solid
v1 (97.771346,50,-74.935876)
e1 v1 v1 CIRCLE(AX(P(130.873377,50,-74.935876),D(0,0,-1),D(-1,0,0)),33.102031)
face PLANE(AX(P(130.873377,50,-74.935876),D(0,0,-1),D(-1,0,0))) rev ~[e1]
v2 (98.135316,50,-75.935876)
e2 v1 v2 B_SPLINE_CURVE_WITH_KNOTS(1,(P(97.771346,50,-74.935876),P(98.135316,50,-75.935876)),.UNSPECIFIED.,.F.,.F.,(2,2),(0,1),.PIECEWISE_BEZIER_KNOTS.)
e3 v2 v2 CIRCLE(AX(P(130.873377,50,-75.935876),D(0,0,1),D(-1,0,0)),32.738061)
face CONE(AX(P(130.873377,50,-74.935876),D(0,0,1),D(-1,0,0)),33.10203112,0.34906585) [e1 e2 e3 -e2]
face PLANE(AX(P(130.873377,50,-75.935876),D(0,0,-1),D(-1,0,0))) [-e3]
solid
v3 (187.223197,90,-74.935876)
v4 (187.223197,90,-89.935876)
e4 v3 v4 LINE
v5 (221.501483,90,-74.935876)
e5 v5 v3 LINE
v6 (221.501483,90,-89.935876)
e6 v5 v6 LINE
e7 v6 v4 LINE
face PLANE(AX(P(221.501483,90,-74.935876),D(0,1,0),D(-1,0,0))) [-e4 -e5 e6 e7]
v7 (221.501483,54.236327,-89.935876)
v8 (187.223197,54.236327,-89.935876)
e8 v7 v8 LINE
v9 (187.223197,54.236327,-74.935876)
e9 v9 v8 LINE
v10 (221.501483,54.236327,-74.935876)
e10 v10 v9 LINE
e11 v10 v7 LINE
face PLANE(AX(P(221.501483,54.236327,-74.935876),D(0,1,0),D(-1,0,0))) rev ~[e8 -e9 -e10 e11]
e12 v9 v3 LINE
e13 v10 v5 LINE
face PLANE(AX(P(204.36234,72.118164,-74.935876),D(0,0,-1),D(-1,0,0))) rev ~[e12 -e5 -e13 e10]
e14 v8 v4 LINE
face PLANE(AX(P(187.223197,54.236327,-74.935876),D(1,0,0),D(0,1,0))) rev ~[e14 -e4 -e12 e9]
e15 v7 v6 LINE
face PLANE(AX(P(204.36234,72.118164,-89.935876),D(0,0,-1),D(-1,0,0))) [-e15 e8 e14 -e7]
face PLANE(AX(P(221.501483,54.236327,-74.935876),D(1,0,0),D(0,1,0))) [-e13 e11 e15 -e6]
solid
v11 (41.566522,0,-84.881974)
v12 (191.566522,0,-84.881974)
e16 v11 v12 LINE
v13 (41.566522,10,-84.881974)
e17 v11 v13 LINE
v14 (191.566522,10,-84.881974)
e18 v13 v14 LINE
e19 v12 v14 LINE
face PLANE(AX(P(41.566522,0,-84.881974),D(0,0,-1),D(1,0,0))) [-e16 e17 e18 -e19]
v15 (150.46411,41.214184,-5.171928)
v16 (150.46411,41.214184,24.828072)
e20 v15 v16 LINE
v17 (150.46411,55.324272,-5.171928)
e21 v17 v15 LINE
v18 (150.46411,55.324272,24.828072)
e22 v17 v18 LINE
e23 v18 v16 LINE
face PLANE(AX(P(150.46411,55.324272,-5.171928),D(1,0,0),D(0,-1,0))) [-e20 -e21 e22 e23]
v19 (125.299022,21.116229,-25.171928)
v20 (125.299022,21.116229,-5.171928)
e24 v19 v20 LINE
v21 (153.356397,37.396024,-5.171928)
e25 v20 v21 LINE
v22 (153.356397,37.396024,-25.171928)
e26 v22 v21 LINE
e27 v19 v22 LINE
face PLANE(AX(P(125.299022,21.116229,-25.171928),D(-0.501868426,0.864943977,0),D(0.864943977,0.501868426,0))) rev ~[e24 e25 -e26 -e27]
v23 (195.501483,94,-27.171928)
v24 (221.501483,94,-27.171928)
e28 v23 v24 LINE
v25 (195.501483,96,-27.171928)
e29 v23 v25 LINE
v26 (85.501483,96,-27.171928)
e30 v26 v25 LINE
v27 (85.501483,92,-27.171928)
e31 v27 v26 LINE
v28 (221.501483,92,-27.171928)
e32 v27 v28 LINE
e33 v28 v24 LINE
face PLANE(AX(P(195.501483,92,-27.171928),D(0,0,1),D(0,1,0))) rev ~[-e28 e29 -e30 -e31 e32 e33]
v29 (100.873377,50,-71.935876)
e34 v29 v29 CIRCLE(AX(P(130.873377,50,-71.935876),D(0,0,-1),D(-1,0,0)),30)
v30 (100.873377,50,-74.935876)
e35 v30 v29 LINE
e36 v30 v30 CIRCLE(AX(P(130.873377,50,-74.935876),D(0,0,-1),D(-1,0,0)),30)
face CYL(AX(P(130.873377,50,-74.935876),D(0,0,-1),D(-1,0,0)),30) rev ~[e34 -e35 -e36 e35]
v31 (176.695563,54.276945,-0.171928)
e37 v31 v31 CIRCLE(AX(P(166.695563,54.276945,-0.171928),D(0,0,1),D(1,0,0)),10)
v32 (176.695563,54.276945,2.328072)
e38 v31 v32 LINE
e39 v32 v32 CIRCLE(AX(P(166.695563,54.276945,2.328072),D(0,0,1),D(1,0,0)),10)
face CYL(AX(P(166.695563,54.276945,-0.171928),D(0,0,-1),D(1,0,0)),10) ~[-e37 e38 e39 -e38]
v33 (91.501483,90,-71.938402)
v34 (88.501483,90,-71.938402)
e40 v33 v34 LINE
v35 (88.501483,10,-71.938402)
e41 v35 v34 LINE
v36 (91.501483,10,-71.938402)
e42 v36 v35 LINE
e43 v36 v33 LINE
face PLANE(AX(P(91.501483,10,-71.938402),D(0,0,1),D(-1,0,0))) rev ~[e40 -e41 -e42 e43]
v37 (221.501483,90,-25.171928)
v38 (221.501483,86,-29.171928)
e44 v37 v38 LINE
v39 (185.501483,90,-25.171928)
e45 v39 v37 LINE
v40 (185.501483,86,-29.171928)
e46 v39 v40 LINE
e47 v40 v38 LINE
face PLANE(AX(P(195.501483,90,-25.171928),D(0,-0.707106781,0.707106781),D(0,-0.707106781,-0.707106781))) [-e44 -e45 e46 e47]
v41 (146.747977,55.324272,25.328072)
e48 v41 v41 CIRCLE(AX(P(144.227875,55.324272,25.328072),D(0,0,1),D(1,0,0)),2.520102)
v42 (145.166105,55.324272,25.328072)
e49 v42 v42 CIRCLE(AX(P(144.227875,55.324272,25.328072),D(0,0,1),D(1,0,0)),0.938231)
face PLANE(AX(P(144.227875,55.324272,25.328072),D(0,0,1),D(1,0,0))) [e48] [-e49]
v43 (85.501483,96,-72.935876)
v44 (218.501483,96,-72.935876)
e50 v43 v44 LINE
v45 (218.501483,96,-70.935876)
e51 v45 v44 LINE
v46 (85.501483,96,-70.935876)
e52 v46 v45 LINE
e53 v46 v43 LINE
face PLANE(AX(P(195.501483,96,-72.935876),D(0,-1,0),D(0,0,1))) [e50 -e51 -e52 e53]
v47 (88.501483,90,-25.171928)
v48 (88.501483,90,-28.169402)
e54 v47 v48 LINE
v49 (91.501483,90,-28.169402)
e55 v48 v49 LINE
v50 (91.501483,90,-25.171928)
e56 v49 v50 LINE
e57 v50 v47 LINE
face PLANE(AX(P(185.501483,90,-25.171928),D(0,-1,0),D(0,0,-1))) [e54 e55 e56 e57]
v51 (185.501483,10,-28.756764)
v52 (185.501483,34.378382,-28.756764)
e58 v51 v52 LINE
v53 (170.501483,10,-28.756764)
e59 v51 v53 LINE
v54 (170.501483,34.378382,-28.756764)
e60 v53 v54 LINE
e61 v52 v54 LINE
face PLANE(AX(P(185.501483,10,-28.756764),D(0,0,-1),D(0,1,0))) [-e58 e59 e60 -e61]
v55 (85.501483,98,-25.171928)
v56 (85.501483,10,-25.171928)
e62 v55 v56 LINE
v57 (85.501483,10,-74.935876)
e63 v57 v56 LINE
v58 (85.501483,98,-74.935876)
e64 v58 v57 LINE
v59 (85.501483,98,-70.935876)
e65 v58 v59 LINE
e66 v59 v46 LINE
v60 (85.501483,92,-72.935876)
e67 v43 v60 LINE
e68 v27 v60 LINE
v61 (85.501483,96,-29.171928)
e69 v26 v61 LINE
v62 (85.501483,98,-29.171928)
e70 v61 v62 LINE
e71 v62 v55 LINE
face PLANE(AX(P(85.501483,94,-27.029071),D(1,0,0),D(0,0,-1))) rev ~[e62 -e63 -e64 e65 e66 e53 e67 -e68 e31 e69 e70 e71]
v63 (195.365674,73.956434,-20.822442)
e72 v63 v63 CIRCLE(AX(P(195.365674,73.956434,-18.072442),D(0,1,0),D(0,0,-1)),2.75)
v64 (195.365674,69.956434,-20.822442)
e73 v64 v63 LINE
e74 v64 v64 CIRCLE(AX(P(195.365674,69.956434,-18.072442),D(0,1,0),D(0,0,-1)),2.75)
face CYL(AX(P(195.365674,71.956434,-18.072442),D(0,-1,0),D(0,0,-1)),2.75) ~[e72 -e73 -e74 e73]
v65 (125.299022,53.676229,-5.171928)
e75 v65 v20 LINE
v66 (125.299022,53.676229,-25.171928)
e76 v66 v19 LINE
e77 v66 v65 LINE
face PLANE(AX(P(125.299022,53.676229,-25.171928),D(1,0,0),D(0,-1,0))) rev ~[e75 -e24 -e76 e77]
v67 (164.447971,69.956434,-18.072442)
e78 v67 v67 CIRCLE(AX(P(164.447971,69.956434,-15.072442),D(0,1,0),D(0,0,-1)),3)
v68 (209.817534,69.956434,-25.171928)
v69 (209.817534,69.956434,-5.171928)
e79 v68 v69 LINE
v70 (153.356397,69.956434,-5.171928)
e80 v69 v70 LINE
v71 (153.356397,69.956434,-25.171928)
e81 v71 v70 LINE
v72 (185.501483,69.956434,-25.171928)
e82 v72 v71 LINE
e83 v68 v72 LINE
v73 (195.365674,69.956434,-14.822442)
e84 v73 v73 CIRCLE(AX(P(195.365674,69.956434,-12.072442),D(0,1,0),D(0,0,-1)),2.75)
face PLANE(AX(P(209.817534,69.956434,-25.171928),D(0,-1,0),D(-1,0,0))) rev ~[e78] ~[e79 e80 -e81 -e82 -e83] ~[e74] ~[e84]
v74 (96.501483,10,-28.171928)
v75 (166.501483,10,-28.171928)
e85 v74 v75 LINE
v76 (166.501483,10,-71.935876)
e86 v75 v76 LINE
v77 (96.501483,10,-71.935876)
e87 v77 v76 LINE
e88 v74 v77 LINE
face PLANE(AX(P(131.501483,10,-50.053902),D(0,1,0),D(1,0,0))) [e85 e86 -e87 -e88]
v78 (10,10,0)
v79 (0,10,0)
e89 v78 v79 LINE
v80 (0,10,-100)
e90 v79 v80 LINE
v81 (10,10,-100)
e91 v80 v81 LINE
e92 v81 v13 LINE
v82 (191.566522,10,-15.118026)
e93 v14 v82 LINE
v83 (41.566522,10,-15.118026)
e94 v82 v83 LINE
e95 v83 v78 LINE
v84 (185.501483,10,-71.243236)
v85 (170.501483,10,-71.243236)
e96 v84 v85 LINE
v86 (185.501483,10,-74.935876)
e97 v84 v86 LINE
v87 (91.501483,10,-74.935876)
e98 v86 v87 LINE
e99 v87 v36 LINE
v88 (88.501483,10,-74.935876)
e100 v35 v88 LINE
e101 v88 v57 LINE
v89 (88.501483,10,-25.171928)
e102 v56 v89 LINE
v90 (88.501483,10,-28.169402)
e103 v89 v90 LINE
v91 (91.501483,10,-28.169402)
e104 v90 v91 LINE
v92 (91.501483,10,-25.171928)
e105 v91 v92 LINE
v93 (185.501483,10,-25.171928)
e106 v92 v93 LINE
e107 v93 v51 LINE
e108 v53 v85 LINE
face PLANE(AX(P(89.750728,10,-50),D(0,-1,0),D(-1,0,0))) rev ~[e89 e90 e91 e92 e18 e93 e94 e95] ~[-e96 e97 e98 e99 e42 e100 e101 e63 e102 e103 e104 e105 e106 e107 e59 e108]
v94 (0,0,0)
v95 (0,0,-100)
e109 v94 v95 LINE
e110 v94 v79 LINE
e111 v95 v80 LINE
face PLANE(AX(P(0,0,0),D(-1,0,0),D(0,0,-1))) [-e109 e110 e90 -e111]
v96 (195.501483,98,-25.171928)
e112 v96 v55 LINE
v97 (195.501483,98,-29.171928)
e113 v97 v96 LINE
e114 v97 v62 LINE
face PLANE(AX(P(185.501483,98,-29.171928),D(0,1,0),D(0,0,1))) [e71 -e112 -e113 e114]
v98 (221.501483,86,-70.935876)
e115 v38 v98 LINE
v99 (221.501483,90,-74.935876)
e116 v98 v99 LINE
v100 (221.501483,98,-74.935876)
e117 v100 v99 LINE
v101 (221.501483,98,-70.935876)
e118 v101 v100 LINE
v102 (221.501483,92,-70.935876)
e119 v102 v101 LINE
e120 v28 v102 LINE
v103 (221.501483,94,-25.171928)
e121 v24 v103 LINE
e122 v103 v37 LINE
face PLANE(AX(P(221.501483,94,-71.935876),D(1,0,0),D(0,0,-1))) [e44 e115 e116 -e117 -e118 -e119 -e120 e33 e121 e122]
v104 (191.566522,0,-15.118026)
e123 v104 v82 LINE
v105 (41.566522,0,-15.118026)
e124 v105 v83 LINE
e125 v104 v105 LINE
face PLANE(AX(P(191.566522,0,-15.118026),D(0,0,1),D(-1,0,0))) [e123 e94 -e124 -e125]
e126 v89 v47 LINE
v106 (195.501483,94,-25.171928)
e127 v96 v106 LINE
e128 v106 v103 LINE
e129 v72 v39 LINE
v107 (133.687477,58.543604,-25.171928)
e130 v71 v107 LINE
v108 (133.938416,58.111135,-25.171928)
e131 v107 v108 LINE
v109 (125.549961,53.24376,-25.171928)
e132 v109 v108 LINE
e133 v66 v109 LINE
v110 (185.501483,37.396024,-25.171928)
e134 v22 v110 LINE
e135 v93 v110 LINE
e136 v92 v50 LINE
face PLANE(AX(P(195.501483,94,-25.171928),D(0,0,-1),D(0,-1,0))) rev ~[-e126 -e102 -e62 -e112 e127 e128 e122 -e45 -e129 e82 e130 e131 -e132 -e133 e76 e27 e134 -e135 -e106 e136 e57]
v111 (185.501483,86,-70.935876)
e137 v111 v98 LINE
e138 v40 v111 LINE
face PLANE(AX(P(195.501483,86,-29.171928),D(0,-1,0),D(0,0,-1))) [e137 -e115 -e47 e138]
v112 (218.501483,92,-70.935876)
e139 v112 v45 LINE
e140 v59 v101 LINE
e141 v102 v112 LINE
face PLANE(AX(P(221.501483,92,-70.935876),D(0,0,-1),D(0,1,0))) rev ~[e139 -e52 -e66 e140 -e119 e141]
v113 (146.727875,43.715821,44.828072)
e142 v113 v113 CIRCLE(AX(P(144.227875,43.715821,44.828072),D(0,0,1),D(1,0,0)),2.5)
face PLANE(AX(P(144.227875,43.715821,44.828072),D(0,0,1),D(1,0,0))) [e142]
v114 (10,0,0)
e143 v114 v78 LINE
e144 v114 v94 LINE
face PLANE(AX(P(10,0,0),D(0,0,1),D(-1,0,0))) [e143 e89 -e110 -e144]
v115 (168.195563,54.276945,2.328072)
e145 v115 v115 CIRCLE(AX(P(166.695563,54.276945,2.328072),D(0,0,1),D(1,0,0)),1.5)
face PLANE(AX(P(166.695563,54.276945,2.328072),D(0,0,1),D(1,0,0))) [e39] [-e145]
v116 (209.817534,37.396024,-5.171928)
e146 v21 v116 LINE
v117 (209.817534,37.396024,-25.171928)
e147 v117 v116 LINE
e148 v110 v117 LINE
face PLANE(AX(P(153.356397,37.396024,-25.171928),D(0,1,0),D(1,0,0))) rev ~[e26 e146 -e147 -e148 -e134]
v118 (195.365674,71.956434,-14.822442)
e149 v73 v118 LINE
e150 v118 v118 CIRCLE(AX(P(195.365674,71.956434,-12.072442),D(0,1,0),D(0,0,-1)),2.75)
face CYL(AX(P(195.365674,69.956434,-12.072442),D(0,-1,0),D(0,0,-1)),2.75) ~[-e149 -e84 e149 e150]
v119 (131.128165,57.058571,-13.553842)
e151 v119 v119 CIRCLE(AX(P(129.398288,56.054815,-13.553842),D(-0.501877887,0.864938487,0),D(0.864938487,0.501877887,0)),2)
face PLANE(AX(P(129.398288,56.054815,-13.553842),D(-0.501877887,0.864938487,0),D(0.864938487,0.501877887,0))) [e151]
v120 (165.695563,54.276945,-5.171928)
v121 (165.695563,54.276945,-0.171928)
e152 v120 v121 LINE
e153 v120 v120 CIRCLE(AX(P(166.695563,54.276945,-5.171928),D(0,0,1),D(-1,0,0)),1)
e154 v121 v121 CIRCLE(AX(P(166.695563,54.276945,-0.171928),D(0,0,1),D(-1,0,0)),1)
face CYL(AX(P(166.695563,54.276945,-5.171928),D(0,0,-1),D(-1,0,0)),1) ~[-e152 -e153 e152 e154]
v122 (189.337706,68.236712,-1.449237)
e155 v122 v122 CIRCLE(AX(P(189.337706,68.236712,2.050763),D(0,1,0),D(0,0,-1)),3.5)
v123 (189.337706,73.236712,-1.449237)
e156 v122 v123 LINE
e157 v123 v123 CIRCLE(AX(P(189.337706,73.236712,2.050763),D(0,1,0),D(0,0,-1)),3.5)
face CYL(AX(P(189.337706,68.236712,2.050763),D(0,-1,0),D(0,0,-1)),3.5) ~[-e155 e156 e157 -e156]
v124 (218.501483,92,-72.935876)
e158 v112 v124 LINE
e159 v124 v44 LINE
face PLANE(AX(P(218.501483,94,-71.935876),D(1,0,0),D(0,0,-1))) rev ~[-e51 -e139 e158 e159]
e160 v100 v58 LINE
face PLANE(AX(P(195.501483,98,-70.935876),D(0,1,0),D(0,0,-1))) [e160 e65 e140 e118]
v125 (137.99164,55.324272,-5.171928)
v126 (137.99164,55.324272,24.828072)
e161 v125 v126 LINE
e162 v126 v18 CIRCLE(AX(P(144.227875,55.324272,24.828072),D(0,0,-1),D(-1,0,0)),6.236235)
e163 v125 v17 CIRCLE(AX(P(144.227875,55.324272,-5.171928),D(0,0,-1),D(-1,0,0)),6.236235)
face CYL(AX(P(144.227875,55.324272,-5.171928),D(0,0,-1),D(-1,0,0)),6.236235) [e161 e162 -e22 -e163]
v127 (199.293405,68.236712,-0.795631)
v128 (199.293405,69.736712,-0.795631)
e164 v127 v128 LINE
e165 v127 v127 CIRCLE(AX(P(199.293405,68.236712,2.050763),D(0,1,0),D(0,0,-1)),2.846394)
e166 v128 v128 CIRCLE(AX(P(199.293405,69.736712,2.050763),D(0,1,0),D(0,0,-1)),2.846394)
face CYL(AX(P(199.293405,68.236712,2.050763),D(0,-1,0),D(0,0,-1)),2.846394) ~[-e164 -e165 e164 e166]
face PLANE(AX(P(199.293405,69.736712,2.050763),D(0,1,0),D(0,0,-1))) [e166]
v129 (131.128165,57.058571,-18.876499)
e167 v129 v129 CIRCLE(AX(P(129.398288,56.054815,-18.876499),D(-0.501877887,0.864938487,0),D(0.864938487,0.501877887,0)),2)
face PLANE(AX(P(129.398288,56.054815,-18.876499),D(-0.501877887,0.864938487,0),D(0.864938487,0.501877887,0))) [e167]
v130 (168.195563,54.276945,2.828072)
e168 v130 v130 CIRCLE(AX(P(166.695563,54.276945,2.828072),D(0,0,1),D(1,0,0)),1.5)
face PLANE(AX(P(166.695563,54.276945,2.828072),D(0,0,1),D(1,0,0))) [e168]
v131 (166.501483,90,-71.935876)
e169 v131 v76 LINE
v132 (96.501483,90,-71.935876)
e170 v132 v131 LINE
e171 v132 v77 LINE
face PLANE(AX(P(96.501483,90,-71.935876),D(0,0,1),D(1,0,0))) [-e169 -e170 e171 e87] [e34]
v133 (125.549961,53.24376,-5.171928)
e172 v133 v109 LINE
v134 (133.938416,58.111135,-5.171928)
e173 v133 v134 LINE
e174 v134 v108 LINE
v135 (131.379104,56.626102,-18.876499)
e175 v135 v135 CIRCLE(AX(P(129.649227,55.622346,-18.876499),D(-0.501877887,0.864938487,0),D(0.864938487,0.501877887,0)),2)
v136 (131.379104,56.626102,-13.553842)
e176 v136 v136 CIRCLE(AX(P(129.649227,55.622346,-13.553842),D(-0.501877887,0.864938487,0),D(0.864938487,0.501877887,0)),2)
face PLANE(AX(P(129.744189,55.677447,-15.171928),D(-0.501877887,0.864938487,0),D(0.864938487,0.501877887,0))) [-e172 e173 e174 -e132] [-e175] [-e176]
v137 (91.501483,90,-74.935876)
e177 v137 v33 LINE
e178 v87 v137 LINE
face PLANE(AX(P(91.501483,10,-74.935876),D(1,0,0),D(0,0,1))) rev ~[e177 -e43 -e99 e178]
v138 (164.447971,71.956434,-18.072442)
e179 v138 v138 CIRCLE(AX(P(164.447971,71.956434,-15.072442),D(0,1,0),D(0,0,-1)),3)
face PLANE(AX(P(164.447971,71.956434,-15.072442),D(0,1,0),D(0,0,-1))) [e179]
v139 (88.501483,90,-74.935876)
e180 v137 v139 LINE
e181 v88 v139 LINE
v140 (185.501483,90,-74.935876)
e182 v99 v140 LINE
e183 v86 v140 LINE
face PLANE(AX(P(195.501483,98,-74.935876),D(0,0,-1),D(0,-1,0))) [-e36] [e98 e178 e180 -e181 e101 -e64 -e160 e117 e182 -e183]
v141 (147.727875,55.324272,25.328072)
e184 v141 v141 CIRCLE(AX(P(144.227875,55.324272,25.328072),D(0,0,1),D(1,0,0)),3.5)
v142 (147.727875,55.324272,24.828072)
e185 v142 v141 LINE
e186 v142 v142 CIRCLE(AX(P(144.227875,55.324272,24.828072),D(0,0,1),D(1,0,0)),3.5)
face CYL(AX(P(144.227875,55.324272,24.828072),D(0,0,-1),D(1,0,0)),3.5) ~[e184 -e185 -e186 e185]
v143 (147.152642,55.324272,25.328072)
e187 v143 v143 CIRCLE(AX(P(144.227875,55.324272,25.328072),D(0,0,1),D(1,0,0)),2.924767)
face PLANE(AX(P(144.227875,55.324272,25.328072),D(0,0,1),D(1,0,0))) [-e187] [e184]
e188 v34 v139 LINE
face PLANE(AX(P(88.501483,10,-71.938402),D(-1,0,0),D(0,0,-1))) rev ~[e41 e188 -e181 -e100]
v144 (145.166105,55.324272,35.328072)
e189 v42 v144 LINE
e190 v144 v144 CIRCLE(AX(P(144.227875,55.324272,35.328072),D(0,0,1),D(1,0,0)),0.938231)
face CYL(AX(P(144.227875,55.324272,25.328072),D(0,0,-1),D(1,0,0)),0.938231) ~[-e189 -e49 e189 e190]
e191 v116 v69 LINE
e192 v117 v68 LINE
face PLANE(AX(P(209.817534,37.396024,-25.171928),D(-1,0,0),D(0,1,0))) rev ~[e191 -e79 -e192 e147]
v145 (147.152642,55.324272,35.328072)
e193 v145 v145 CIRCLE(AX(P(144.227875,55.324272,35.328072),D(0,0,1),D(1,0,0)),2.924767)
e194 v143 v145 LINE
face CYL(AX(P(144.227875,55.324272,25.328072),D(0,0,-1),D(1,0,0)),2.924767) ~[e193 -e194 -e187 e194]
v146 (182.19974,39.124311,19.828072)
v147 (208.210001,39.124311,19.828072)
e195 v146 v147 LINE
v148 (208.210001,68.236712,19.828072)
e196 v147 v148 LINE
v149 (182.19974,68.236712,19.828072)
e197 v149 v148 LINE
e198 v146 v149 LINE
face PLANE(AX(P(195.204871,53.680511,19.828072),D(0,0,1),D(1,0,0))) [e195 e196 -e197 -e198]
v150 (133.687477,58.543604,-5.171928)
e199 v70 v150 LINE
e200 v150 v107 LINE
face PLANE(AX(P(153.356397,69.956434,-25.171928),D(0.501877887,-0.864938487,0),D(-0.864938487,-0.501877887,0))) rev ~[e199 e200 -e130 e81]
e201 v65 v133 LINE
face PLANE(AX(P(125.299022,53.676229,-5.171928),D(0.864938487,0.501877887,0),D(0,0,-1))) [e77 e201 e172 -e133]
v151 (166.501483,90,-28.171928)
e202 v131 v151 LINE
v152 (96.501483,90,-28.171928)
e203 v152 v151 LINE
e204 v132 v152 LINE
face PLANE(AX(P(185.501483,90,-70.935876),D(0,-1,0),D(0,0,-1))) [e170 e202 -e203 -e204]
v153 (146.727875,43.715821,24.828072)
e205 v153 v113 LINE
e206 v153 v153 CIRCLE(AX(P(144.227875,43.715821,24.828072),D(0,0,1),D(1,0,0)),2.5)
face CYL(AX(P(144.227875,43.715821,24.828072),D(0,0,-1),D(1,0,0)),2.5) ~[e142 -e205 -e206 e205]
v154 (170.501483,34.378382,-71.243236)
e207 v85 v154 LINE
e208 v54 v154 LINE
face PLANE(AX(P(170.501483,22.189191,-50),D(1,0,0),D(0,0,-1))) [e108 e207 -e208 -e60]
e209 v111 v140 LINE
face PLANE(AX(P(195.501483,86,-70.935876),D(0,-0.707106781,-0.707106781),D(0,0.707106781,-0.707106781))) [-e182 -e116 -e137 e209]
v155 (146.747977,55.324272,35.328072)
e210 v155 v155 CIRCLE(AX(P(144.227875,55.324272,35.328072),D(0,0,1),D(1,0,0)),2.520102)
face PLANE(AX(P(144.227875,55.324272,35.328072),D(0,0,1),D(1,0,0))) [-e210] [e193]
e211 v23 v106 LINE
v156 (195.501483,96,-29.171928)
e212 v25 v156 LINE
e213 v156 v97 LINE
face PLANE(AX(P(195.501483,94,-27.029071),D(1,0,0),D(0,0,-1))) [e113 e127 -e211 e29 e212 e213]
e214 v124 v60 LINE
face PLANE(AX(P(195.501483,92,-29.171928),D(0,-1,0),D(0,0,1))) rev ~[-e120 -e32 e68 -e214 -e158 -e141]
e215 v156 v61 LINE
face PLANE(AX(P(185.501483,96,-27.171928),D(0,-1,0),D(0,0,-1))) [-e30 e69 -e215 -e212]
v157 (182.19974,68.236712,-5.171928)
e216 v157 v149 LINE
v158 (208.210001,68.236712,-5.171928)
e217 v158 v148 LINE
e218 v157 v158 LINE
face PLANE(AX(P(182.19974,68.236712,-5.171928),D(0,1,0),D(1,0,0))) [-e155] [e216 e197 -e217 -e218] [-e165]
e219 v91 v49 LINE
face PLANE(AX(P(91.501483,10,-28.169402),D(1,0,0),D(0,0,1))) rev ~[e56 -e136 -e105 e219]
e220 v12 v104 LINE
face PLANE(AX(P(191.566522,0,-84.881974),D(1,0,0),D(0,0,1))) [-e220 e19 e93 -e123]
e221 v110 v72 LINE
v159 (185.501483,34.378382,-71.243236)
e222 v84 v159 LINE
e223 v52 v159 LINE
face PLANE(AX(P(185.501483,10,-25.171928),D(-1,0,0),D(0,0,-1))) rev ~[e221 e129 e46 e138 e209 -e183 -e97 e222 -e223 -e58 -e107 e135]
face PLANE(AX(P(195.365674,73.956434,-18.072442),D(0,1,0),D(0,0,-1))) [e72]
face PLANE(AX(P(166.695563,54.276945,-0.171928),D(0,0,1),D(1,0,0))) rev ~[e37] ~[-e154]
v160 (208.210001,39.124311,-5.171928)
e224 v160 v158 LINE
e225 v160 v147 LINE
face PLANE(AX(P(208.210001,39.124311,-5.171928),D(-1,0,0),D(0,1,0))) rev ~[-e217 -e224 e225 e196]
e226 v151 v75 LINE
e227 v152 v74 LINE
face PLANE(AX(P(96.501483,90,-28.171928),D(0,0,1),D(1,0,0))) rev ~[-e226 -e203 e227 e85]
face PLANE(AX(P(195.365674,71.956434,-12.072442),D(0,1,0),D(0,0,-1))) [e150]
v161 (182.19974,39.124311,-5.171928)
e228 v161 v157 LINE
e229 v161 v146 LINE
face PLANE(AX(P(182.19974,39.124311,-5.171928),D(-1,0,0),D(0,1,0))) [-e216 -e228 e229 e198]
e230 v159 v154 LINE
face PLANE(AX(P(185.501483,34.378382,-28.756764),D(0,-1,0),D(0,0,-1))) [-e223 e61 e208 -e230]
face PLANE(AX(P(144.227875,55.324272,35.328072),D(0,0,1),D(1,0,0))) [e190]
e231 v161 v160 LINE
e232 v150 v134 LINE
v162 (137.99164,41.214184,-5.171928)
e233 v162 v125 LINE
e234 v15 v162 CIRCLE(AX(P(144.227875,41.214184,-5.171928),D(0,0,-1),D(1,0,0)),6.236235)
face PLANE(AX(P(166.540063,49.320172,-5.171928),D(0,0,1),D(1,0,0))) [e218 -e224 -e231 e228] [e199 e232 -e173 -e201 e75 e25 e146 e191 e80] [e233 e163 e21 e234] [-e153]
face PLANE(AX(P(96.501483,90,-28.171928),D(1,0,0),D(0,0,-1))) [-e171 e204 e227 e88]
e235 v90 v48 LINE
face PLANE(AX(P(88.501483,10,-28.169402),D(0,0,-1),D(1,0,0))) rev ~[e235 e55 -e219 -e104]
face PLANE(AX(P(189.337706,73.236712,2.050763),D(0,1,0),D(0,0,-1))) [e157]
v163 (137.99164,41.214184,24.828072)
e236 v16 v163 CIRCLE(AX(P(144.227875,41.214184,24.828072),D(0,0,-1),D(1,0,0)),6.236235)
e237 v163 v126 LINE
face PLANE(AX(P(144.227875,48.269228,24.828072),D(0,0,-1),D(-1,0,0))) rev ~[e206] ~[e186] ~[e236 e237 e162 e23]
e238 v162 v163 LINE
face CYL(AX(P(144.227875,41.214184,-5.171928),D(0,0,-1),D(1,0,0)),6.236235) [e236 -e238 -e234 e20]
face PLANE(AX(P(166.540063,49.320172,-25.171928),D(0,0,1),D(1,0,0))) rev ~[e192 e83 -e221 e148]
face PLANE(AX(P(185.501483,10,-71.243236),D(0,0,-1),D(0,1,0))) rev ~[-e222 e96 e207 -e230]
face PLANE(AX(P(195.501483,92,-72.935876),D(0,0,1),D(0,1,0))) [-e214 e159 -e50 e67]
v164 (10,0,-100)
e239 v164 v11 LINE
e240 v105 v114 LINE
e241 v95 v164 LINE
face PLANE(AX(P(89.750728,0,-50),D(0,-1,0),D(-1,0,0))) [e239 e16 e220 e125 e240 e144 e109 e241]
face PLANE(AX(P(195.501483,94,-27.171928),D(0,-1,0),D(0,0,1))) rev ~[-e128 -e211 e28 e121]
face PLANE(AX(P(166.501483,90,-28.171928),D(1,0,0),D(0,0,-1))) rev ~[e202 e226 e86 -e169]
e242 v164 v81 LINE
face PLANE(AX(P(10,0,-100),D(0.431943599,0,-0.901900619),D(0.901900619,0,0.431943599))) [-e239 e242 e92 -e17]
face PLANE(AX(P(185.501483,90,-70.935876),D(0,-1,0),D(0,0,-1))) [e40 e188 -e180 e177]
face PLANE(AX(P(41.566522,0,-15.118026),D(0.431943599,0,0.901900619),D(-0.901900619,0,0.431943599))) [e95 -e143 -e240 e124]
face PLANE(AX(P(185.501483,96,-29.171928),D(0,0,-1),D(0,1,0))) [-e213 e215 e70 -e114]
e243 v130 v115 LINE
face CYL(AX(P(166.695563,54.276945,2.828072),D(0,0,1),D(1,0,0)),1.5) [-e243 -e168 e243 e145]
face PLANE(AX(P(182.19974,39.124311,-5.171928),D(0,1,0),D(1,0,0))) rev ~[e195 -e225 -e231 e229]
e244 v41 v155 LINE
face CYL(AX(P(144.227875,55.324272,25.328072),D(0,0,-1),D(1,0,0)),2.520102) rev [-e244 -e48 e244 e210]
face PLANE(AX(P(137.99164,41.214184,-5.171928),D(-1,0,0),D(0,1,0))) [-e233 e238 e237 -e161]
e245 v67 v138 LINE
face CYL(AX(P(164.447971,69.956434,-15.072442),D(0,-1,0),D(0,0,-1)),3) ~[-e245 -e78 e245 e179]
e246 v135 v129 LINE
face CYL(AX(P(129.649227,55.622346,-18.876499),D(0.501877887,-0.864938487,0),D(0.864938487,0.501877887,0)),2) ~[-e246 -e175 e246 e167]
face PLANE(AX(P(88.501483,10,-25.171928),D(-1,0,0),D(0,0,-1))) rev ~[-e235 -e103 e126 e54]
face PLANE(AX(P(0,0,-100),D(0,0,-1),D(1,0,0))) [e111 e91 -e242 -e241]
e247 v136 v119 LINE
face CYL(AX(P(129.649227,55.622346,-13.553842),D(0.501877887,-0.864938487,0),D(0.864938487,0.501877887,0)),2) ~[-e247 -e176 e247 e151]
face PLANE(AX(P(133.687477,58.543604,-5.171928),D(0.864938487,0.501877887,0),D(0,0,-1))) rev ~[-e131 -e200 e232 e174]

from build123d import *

# Parameters (mm, degrees)
BOSS_EXTRUDE1_DEPTH      = 10
BOSS_EXTRUDE3_DEPTH      = 80
SKETCH4_W                = 42.48647226
SKETCH4_H                = 24.378381935
CUT_EXTRUDE2_DEPTH       = 15
SKETCH5_W                = 70
SKETCH5_H                = 43.763948065
CUT_EXTRUDE3_DEPTH       = 80
BOSS_EXTRUDE4_DEPTH      = 10
BOSS_EXTRUDE4_DEPTH_BACK = 100
SKETCH6_R                = 30
CUT_EXTRUDE5_DEPTH       = 46
SKETCH8_W                = 41.763948065
SKETCH8_H                = 2
BOSS_EXTRUDE5_DEPTH      = 26
BOSS_EXTRUDE5_DEPTH_BACK = 110
SKETCH9_W                = 41.763948065
SKETCH9_H                = 4
BOSS_EXTRUDE6_DEPTH      = 26
BOSS_EXTRUDE6_DEPTH_BACK = 10
BOSS_EXTRUDE7_DEPTH      = 26
BOSS_EXTRUDE7_DEPTH_BACK = 10
BOSS_EXTRUDE8_DEPTH      = 26
BOSS_EXTRUDE9_DEPTH      = 26
SKETCH13_W               = 2
SKETCH13_H               = 4
BOSS_EXTRUDE10_DEPTH     = 3
SKETCH14_W               = 34.278285875
SKETCH14_H               = 35.763672782
BOSS_EXTRUDE11_DEPTH     = 15
BOSS_EXTRUDE12_DEPTH     = 20
SKETCH16_W               = 26.010260239
SKETCH16_H               = 29.112401369
BOSS_EXTRUDE13_DEPTH     = 25
SKETCH17_R               = 3.5
BOSS_EXTRUDE14_DEPTH     = 5
SKETCH18_R               = 2.846394249
BOSS_EXTRUDE15_DEPTH     = 1.5
SKETCH19_R               = 3
BOSS_EXTRUDE16_DEPTH     = 2
SKETCH20_R               = 2.75
BOSS_EXTRUDE17_DEPTH     = 2
SKETCH21_R               = 2.75
BOSS_EXTRUDE18_DEPTH     = 2
SKETCH22_R               = 1
BOSS_EXTRUDE19_DEPTH     = 5
SKETCH23_R               = 10
BOSS_EXTRUDE20_DEPTH     = 3
SKETCH24_R               = 10
SKETCH24_R_2             = 1.5
CUT_EXTRUDE6_DEPTH       = 0.5
SKETCH25_W               = 9.698325035
SKETCH25_H               = 20
CUT_EXTRUDE7_DEPTH       = 0.5
BOSS_EXTRUDE21_DEPTH     = 30
SKETCH27_R               = 2
BOSS_EXTRUDE22_DEPTH     = 0.5
SKETCH29_R               = 3.5
BOSS_EXTRUDE23_DEPTH     = 0.5
SKETCH30_R               = 2.924767118
SKETCH30_R_2             = 2.520102258
SKETCH30_R_3             = 0.938230535
BOSS_EXTRUDE24_DEPTH     = 10
SKETCH31_R               = 2.5
BOSS_EXTRUDE25_DEPTH     = 20
SKETCH32_R               = 33.10203112
BOSS_EXTRUDE26_DEPTH     = 1
BOSS_EXTRUDE26_TAPER     = 20


with BuildPart() as part:
    # Sketch1 → Boss-Extrude1 (new body)
    with BuildSketch(Plane(origin=(0, 0, 0), x_dir=(1, 0, 0), z_dir=(0, 1, 0))):
        Polygon((0, 0), (0, 100), (10, 100), (41.566521678, 84.881974033), (191.566521678, 84.881974033), (191.566521678, 15.118025967), (41.566521678, 15.118025967), (10, 0), align=None)
    extrude(amount=BOSS_EXTRUDE1_DEPTH)

    # Sketch3 → Boss-Extrude3 (add)
    with BuildSketch(Plane(origin=(0, 10, 0), x_dir=(1, 0, 0), z_dir=(0, 1, 0))):
        Polygon((91.501482994, 28.169402175), (91.501482994, 25.17192825), (185.501482994, 25.17192825), (185.501482994, 74.935876315), (91.501482994, 74.935876315), (91.501482994, 71.93840239), (88.501482994, 71.93840239), (88.501482994, 74.935876315), (85.501482994, 74.935876315), (85.501482994, 25.17192825), (88.501482994, 25.17192825), (88.501482994, 28.169402175), align=None)
    extrude(amount=BOSS_EXTRUDE3_DEPTH)

    # Sketch4 → Cut-Extrude2 (cut)
    with BuildSketch(Plane(origin=(185.501482994, 0, 0), x_dir=(0, 0, -1), z_dir=(1, 0, 0))):
        with Locations((50, 22.189190968)):
            Rectangle(SKETCH4_W, SKETCH4_H)
    extrude(amount=-CUT_EXTRUDE2_DEPTH, mode=Mode.SUBTRACT)

    # Sketch5 → Cut-Extrude3 (cut)
    with BuildSketch(Plane(origin=(0, 90, 0), x_dir=(1, 0, 0), z_dir=(0, 1, 0))):
        with Locations((131.501482994, 50.053902283)):
            Rectangle(SKETCH5_W, SKETCH5_H)
    extrude(amount=-CUT_EXTRUDE3_DEPTH, mode=Mode.SUBTRACT)

    # Sketch7 → Boss-Extrude4 (add, two sides)
    with BuildSketch(Plane(origin=(185.501482994, 0, 0), x_dir=(0, 0, -1), z_dir=(1, 0, 0))) as boss_extrude4_sk:
        Polygon((25.17192825, 98), (25.17192825, 90), (29.17192825, 90), (29.17192825, 92), (27.17192825, 92), (27.17192825, 96), (29.17192825, 96), (29.17192825, 98), align=None)
        Polygon((70.935876315, 92), (70.935876315, 90), (74.935876315, 90), (74.935876315, 98), (70.935876315, 98), (70.935876315, 96), (72.935876315, 96), (72.935876315, 92), align=None)
    extrude(amount=BOSS_EXTRUDE4_DEPTH)
    extrude(boss_extrude4_sk.sketch, amount=-BOSS_EXTRUDE4_DEPTH_BACK)

    # Sketch6 → Cut-Extrude5 (cut)
    with BuildSketch(Plane(origin=(0, 0, -74.935876315), x_dir=(-1, 0, 0), z_dir=(0, 0, -1))):
        with Locations((-130.873377136, 50)):
            Circle(SKETCH6_R)
    extrude(amount=-CUT_EXTRUDE5_DEPTH, mode=Mode.SUBTRACT)

    # Sketch8 → Boss-Extrude5 (add, two sides)
    with BuildSketch(Plane(origin=(195.501482994, 0, 0), x_dir=(0, 0, -1), z_dir=(1, 0, 0))) as boss_extrude5_sk:
        with Locations((50.053902283, 91)):
            Rectangle(SKETCH8_W, SKETCH8_H)
    extrude(amount=BOSS_EXTRUDE5_DEPTH)
    extrude(boss_extrude5_sk.sketch, amount=-BOSS_EXTRUDE5_DEPTH_BACK)

    # Sketch9 → Boss-Extrude6 (add, two sides)
    with BuildSketch(Plane(origin=(195.501482994, 0, 0), x_dir=(0, 0, -1), z_dir=(1, 0, 0))) as boss_extrude6_sk:
        with Locations((50.053902283, 88)):
            Rectangle(SKETCH9_W, SKETCH9_H)
    extrude(amount=BOSS_EXTRUDE6_DEPTH)
    extrude(boss_extrude6_sk.sketch, amount=-BOSS_EXTRUDE6_DEPTH_BACK)

    # Sketch10 → Boss-Extrude7 (add, two sides)
    with BuildSketch(Plane(origin=(195.501482994, 0, 0), x_dir=(0, 0, -1), z_dir=(1, 0, 0))) as boss_extrude7_sk:
        Polygon((25.17192825, 90), (29.17192825, 86), (29.17192825, 90), align=None)
        Polygon((74.935876315, 90), (70.935876315, 90), (70.935876315, 86), align=None)
    extrude(amount=BOSS_EXTRUDE7_DEPTH)
    extrude(boss_extrude7_sk.sketch, amount=-BOSS_EXTRUDE7_DEPTH_BACK)

    # Sketch11 → Boss-Extrude8 (add)
    with BuildSketch(Plane(origin=(195.501482994, 0, 0), x_dir=(0, 0, -1), z_dir=(1, 0, 0))):
        Polygon((70.935876315, 98), (74.935876315, 98), (74.935876315, 90), (70.935876315, 90), (70.935876315, 92), (72.935876315, 92), (72.935876315, 96), (70.935876315, 96), align=None)
    extrude(amount=BOSS_EXTRUDE8_DEPTH)

    # Sketch12 → Boss-Extrude9 (add)
    with BuildSketch(Plane(origin=(195.501482994, 0, 0), x_dir=(0, 0, -1), z_dir=(1, 0, 0))):
        Polygon((25.17192825, 90), (29.17192825, 90), (29.17192825, 92), (27.17192825, 92), (27.17192825, 94), (25.17192825, 94), align=None)
    extrude(amount=BOSS_EXTRUDE9_DEPTH)

    # Sketch13 → Boss-Extrude10 (add)
    with BuildSketch(Plane(origin=(221.501482994, 0, 0), x_dir=(0, 0, -1), z_dir=(1, 0, 0))):
        with Locations((71.935876315, 94)):
            Rectangle(SKETCH13_W, SKETCH13_H)
    extrude(amount=-BOSS_EXTRUDE10_DEPTH)

    # Sketch15 → Boss-Extrude12 (add)
    with BuildSketch(Plane.XY.offset(-25.17192825)):
        Polygon((153.35639721, 69.956434263), (125.299022411, 53.676229133), (125.299022411, 21.116229133), (153.35639721, 37.396024003), (209.817534152, 37.396024003), (209.817534152, 69.956434263), align=None)
    extrude(amount=BOSS_EXTRUDE12_DEPTH)

    # Sketch16 → Boss-Extrude13 (add)
    with BuildSketch(Plane.XY.offset(-5.17192825)):
        with Locations((195.204870599, 53.680511347)):
            Rectangle(SKETCH16_W, SKETCH16_H)
    extrude(amount=BOSS_EXTRUDE13_DEPTH)

    # Sketch17 → Boss-Extrude14 (add)
    with BuildSketch(Plane(origin=(0, 68.236712031, 0), x_dir=(1, 0, 0), z_dir=(0, 1, 0))):
        with Locations(Location((189.337705988, -2.050762932, 0), (0, 0, 90))):
            Circle(SKETCH17_R)
    extrude(amount=BOSS_EXTRUDE14_DEPTH)

    # Sketch18 → Boss-Extrude15 (add)
    with BuildSketch(Plane(origin=(0, 68.236712031, 0), x_dir=(1, 0, 0), z_dir=(0, 1, 0))):
        with Locations(Location((199.293404671, -2.050762932, 0), (0, 0, 90))):
            Circle(SKETCH18_R)
    extrude(amount=BOSS_EXTRUDE15_DEPTH)

    # Sketch19 → Boss-Extrude16 (add)
    with BuildSketch(Plane(origin=(0, 69.956434263, 0), x_dir=(1, 0, 0), z_dir=(0, 1, 0))):
        with Locations(Location((164.447971489, 15.072442256, 0), (0, 0, 90))):
            Circle(SKETCH19_R)
    extrude(amount=BOSS_EXTRUDE16_DEPTH)

    # Sketch20 → Boss-Extrude17 (add)
    with BuildSketch(Plane(origin=(0, 69.956434263, 0), x_dir=(1, 0, 0), z_dir=(0, 1, 0))):
        with Locations(Location((195.365674229, 18.072442256, 0), (0, 0, 90))):
            Circle(SKETCH20_R)
        with Locations(Location((195.365674229, 12.072442256, 0), (0, 0, 90))):
            Circle(SKETCH20_R)
    extrude(amount=BOSS_EXTRUDE17_DEPTH)

    # Sketch21 → Boss-Extrude18 (add)
    with BuildSketch(Plane(origin=(0, 71.956434263, 0), x_dir=(1, 0, 0), z_dir=(0, 1, 0))):
        with Locations(Location((195.365674229, 18.072442256, 0), (0, 0, 90))):
            Circle(SKETCH21_R)
    extrude(amount=BOSS_EXTRUDE18_DEPTH)

    # Sketch22 → Boss-Extrude19 (add)
    with BuildSketch(Plane.XY.offset(-5.17192825)):
        with Locations(Location((166.695562799, 54.276945118, 0), (0, 0, 180))):
            Circle(SKETCH22_R)
    extrude(amount=BOSS_EXTRUDE19_DEPTH)

    # Sketch23 → Boss-Extrude20 (add)
    with BuildSketch(Plane.XY.offset(-0.17192825)):
        with Locations((166.695562799, 54.276945118)):
            Circle(SKETCH23_R)
    extrude(amount=BOSS_EXTRUDE20_DEPTH)

    # Sketch24 → Cut-Extrude6 (cut)
    with BuildSketch(Plane.XY.offset(2.82807175)):
        with Locations((166.695562799, 54.276945118)):
            Circle(SKETCH24_R)
        with Locations((166.695562799, 54.276945118)):
            Circle(SKETCH24_R_2, mode=Mode.SUBTRACT)
    extrude(amount=-CUT_EXTRUDE6_DEPTH, mode=Mode.SUBTRACT)

    # Sketch25 → Cut-Extrude7 (cut)
    with BuildSketch(Plane(origin=(8.259992725, -14.235306611, 0), x_dir=(0.864938486881547, 0.5018778874497861, 0), z_dir=(-0.5018778874497861, 0.864938486881547, 0))):
        with Locations((140.164021854, 15.17192825)):
            Rectangle(SKETCH25_W, SKETCH25_H)
    extrude(amount=-CUT_EXTRUDE7_DEPTH, mode=Mode.SUBTRACT)

    # Sketch26 → Boss-Extrude21 (add)
    with BuildSketch(Plane.XY.offset(-5.17192825)):
        with BuildLine():
            Line((150.464109956, 55.324272259), (150.464109956, 41.214184102))
            ThreePointArc((150.464109956, 41.214184102), (144.227874784, 34.97794893), (137.991639612, 41.214184102))
            Line((137.991639612, 41.214184102), (137.991639612, 55.324272259))
            ThreePointArc((137.991639612, 55.324272259), (144.227874784, 61.560507431), (150.464109956, 55.324272259))
        make_face()
    extrude(amount=BOSS_EXTRUDE21_DEPTH)

    # Sketch27 → Boss-Extrude22 (add)
    with BuildSketch(Plane(origin=(8.510931669, -14.667775854, 0), x_dir=(0.8649384868815474, 0.5018778874497855, 0), z_dir=(-0.5018778874497855, 0.8649384868815474, 0))):
        with Locations((140.0542313, 18.876498652)):
            Circle(SKETCH27_R)
        with Locations((140.0542313, 13.553842308)):
            Circle(SKETCH27_R)
    extrude(amount=BOSS_EXTRUDE22_DEPTH)

    # Sketch29 → Boss-Extrude23 (add)
    with BuildSketch(Plane.XY.offset(24.82807175)):
        with Locations((144.227874784, 55.324272259)):
            Circle(SKETCH29_R)
    extrude(amount=BOSS_EXTRUDE23_DEPTH)

    # Sketch30 → Boss-Extrude24 (add)
    with BuildSketch(Plane.XY.offset(25.32807175)):
        with Locations((144.227874784, 55.324272259)):
            Circle(SKETCH30_R)
        with Locations((144.227874784, 55.324272259)):
            Circle(SKETCH30_R_2, mode=Mode.SUBTRACT)
        with Locations((144.227874784, 55.324272259)):
            Circle(SKETCH30_R_3)
    extrude(amount=BOSS_EXTRUDE24_DEPTH)

    # Sketch31 → Boss-Extrude25 (add)
    with BuildSketch(Plane.XY.offset(24.82807175)):
        with Locations((144.227874784, 43.715821473)):
            Circle(SKETCH31_R)
    extrude(amount=BOSS_EXTRUDE25_DEPTH)


with BuildPart() as body_2:
    # Sketch14 → Boss-Extrude11 (new body)
    with BuildSketch(Plane(origin=(0, 0, -74.935876315), x_dir=(-1, 0, 0), z_dir=(0, 0, -1))):
        with Locations((-204.362340057, 72.118163609)):
            Rectangle(SKETCH14_W, SKETCH14_H)
    extrude(amount=BOSS_EXTRUDE11_DEPTH)


with BuildPart() as body_3:
    # Sketch32 → Boss-Extrude26 (new body)
    with BuildSketch(Plane(origin=(0, 0, -74.935876315), x_dir=(-1, 0, 0), z_dir=(0, 0, -1))):
        with Locations((-130.873377136, 50)):
            Circle(SKETCH32_R)
    extrude(amount=BOSS_EXTRUDE26_DEPTH, taper=BOSS_EXTRUDE26_TAPER)


solid = Compound([part.part, body_2.part, body_3.part])
